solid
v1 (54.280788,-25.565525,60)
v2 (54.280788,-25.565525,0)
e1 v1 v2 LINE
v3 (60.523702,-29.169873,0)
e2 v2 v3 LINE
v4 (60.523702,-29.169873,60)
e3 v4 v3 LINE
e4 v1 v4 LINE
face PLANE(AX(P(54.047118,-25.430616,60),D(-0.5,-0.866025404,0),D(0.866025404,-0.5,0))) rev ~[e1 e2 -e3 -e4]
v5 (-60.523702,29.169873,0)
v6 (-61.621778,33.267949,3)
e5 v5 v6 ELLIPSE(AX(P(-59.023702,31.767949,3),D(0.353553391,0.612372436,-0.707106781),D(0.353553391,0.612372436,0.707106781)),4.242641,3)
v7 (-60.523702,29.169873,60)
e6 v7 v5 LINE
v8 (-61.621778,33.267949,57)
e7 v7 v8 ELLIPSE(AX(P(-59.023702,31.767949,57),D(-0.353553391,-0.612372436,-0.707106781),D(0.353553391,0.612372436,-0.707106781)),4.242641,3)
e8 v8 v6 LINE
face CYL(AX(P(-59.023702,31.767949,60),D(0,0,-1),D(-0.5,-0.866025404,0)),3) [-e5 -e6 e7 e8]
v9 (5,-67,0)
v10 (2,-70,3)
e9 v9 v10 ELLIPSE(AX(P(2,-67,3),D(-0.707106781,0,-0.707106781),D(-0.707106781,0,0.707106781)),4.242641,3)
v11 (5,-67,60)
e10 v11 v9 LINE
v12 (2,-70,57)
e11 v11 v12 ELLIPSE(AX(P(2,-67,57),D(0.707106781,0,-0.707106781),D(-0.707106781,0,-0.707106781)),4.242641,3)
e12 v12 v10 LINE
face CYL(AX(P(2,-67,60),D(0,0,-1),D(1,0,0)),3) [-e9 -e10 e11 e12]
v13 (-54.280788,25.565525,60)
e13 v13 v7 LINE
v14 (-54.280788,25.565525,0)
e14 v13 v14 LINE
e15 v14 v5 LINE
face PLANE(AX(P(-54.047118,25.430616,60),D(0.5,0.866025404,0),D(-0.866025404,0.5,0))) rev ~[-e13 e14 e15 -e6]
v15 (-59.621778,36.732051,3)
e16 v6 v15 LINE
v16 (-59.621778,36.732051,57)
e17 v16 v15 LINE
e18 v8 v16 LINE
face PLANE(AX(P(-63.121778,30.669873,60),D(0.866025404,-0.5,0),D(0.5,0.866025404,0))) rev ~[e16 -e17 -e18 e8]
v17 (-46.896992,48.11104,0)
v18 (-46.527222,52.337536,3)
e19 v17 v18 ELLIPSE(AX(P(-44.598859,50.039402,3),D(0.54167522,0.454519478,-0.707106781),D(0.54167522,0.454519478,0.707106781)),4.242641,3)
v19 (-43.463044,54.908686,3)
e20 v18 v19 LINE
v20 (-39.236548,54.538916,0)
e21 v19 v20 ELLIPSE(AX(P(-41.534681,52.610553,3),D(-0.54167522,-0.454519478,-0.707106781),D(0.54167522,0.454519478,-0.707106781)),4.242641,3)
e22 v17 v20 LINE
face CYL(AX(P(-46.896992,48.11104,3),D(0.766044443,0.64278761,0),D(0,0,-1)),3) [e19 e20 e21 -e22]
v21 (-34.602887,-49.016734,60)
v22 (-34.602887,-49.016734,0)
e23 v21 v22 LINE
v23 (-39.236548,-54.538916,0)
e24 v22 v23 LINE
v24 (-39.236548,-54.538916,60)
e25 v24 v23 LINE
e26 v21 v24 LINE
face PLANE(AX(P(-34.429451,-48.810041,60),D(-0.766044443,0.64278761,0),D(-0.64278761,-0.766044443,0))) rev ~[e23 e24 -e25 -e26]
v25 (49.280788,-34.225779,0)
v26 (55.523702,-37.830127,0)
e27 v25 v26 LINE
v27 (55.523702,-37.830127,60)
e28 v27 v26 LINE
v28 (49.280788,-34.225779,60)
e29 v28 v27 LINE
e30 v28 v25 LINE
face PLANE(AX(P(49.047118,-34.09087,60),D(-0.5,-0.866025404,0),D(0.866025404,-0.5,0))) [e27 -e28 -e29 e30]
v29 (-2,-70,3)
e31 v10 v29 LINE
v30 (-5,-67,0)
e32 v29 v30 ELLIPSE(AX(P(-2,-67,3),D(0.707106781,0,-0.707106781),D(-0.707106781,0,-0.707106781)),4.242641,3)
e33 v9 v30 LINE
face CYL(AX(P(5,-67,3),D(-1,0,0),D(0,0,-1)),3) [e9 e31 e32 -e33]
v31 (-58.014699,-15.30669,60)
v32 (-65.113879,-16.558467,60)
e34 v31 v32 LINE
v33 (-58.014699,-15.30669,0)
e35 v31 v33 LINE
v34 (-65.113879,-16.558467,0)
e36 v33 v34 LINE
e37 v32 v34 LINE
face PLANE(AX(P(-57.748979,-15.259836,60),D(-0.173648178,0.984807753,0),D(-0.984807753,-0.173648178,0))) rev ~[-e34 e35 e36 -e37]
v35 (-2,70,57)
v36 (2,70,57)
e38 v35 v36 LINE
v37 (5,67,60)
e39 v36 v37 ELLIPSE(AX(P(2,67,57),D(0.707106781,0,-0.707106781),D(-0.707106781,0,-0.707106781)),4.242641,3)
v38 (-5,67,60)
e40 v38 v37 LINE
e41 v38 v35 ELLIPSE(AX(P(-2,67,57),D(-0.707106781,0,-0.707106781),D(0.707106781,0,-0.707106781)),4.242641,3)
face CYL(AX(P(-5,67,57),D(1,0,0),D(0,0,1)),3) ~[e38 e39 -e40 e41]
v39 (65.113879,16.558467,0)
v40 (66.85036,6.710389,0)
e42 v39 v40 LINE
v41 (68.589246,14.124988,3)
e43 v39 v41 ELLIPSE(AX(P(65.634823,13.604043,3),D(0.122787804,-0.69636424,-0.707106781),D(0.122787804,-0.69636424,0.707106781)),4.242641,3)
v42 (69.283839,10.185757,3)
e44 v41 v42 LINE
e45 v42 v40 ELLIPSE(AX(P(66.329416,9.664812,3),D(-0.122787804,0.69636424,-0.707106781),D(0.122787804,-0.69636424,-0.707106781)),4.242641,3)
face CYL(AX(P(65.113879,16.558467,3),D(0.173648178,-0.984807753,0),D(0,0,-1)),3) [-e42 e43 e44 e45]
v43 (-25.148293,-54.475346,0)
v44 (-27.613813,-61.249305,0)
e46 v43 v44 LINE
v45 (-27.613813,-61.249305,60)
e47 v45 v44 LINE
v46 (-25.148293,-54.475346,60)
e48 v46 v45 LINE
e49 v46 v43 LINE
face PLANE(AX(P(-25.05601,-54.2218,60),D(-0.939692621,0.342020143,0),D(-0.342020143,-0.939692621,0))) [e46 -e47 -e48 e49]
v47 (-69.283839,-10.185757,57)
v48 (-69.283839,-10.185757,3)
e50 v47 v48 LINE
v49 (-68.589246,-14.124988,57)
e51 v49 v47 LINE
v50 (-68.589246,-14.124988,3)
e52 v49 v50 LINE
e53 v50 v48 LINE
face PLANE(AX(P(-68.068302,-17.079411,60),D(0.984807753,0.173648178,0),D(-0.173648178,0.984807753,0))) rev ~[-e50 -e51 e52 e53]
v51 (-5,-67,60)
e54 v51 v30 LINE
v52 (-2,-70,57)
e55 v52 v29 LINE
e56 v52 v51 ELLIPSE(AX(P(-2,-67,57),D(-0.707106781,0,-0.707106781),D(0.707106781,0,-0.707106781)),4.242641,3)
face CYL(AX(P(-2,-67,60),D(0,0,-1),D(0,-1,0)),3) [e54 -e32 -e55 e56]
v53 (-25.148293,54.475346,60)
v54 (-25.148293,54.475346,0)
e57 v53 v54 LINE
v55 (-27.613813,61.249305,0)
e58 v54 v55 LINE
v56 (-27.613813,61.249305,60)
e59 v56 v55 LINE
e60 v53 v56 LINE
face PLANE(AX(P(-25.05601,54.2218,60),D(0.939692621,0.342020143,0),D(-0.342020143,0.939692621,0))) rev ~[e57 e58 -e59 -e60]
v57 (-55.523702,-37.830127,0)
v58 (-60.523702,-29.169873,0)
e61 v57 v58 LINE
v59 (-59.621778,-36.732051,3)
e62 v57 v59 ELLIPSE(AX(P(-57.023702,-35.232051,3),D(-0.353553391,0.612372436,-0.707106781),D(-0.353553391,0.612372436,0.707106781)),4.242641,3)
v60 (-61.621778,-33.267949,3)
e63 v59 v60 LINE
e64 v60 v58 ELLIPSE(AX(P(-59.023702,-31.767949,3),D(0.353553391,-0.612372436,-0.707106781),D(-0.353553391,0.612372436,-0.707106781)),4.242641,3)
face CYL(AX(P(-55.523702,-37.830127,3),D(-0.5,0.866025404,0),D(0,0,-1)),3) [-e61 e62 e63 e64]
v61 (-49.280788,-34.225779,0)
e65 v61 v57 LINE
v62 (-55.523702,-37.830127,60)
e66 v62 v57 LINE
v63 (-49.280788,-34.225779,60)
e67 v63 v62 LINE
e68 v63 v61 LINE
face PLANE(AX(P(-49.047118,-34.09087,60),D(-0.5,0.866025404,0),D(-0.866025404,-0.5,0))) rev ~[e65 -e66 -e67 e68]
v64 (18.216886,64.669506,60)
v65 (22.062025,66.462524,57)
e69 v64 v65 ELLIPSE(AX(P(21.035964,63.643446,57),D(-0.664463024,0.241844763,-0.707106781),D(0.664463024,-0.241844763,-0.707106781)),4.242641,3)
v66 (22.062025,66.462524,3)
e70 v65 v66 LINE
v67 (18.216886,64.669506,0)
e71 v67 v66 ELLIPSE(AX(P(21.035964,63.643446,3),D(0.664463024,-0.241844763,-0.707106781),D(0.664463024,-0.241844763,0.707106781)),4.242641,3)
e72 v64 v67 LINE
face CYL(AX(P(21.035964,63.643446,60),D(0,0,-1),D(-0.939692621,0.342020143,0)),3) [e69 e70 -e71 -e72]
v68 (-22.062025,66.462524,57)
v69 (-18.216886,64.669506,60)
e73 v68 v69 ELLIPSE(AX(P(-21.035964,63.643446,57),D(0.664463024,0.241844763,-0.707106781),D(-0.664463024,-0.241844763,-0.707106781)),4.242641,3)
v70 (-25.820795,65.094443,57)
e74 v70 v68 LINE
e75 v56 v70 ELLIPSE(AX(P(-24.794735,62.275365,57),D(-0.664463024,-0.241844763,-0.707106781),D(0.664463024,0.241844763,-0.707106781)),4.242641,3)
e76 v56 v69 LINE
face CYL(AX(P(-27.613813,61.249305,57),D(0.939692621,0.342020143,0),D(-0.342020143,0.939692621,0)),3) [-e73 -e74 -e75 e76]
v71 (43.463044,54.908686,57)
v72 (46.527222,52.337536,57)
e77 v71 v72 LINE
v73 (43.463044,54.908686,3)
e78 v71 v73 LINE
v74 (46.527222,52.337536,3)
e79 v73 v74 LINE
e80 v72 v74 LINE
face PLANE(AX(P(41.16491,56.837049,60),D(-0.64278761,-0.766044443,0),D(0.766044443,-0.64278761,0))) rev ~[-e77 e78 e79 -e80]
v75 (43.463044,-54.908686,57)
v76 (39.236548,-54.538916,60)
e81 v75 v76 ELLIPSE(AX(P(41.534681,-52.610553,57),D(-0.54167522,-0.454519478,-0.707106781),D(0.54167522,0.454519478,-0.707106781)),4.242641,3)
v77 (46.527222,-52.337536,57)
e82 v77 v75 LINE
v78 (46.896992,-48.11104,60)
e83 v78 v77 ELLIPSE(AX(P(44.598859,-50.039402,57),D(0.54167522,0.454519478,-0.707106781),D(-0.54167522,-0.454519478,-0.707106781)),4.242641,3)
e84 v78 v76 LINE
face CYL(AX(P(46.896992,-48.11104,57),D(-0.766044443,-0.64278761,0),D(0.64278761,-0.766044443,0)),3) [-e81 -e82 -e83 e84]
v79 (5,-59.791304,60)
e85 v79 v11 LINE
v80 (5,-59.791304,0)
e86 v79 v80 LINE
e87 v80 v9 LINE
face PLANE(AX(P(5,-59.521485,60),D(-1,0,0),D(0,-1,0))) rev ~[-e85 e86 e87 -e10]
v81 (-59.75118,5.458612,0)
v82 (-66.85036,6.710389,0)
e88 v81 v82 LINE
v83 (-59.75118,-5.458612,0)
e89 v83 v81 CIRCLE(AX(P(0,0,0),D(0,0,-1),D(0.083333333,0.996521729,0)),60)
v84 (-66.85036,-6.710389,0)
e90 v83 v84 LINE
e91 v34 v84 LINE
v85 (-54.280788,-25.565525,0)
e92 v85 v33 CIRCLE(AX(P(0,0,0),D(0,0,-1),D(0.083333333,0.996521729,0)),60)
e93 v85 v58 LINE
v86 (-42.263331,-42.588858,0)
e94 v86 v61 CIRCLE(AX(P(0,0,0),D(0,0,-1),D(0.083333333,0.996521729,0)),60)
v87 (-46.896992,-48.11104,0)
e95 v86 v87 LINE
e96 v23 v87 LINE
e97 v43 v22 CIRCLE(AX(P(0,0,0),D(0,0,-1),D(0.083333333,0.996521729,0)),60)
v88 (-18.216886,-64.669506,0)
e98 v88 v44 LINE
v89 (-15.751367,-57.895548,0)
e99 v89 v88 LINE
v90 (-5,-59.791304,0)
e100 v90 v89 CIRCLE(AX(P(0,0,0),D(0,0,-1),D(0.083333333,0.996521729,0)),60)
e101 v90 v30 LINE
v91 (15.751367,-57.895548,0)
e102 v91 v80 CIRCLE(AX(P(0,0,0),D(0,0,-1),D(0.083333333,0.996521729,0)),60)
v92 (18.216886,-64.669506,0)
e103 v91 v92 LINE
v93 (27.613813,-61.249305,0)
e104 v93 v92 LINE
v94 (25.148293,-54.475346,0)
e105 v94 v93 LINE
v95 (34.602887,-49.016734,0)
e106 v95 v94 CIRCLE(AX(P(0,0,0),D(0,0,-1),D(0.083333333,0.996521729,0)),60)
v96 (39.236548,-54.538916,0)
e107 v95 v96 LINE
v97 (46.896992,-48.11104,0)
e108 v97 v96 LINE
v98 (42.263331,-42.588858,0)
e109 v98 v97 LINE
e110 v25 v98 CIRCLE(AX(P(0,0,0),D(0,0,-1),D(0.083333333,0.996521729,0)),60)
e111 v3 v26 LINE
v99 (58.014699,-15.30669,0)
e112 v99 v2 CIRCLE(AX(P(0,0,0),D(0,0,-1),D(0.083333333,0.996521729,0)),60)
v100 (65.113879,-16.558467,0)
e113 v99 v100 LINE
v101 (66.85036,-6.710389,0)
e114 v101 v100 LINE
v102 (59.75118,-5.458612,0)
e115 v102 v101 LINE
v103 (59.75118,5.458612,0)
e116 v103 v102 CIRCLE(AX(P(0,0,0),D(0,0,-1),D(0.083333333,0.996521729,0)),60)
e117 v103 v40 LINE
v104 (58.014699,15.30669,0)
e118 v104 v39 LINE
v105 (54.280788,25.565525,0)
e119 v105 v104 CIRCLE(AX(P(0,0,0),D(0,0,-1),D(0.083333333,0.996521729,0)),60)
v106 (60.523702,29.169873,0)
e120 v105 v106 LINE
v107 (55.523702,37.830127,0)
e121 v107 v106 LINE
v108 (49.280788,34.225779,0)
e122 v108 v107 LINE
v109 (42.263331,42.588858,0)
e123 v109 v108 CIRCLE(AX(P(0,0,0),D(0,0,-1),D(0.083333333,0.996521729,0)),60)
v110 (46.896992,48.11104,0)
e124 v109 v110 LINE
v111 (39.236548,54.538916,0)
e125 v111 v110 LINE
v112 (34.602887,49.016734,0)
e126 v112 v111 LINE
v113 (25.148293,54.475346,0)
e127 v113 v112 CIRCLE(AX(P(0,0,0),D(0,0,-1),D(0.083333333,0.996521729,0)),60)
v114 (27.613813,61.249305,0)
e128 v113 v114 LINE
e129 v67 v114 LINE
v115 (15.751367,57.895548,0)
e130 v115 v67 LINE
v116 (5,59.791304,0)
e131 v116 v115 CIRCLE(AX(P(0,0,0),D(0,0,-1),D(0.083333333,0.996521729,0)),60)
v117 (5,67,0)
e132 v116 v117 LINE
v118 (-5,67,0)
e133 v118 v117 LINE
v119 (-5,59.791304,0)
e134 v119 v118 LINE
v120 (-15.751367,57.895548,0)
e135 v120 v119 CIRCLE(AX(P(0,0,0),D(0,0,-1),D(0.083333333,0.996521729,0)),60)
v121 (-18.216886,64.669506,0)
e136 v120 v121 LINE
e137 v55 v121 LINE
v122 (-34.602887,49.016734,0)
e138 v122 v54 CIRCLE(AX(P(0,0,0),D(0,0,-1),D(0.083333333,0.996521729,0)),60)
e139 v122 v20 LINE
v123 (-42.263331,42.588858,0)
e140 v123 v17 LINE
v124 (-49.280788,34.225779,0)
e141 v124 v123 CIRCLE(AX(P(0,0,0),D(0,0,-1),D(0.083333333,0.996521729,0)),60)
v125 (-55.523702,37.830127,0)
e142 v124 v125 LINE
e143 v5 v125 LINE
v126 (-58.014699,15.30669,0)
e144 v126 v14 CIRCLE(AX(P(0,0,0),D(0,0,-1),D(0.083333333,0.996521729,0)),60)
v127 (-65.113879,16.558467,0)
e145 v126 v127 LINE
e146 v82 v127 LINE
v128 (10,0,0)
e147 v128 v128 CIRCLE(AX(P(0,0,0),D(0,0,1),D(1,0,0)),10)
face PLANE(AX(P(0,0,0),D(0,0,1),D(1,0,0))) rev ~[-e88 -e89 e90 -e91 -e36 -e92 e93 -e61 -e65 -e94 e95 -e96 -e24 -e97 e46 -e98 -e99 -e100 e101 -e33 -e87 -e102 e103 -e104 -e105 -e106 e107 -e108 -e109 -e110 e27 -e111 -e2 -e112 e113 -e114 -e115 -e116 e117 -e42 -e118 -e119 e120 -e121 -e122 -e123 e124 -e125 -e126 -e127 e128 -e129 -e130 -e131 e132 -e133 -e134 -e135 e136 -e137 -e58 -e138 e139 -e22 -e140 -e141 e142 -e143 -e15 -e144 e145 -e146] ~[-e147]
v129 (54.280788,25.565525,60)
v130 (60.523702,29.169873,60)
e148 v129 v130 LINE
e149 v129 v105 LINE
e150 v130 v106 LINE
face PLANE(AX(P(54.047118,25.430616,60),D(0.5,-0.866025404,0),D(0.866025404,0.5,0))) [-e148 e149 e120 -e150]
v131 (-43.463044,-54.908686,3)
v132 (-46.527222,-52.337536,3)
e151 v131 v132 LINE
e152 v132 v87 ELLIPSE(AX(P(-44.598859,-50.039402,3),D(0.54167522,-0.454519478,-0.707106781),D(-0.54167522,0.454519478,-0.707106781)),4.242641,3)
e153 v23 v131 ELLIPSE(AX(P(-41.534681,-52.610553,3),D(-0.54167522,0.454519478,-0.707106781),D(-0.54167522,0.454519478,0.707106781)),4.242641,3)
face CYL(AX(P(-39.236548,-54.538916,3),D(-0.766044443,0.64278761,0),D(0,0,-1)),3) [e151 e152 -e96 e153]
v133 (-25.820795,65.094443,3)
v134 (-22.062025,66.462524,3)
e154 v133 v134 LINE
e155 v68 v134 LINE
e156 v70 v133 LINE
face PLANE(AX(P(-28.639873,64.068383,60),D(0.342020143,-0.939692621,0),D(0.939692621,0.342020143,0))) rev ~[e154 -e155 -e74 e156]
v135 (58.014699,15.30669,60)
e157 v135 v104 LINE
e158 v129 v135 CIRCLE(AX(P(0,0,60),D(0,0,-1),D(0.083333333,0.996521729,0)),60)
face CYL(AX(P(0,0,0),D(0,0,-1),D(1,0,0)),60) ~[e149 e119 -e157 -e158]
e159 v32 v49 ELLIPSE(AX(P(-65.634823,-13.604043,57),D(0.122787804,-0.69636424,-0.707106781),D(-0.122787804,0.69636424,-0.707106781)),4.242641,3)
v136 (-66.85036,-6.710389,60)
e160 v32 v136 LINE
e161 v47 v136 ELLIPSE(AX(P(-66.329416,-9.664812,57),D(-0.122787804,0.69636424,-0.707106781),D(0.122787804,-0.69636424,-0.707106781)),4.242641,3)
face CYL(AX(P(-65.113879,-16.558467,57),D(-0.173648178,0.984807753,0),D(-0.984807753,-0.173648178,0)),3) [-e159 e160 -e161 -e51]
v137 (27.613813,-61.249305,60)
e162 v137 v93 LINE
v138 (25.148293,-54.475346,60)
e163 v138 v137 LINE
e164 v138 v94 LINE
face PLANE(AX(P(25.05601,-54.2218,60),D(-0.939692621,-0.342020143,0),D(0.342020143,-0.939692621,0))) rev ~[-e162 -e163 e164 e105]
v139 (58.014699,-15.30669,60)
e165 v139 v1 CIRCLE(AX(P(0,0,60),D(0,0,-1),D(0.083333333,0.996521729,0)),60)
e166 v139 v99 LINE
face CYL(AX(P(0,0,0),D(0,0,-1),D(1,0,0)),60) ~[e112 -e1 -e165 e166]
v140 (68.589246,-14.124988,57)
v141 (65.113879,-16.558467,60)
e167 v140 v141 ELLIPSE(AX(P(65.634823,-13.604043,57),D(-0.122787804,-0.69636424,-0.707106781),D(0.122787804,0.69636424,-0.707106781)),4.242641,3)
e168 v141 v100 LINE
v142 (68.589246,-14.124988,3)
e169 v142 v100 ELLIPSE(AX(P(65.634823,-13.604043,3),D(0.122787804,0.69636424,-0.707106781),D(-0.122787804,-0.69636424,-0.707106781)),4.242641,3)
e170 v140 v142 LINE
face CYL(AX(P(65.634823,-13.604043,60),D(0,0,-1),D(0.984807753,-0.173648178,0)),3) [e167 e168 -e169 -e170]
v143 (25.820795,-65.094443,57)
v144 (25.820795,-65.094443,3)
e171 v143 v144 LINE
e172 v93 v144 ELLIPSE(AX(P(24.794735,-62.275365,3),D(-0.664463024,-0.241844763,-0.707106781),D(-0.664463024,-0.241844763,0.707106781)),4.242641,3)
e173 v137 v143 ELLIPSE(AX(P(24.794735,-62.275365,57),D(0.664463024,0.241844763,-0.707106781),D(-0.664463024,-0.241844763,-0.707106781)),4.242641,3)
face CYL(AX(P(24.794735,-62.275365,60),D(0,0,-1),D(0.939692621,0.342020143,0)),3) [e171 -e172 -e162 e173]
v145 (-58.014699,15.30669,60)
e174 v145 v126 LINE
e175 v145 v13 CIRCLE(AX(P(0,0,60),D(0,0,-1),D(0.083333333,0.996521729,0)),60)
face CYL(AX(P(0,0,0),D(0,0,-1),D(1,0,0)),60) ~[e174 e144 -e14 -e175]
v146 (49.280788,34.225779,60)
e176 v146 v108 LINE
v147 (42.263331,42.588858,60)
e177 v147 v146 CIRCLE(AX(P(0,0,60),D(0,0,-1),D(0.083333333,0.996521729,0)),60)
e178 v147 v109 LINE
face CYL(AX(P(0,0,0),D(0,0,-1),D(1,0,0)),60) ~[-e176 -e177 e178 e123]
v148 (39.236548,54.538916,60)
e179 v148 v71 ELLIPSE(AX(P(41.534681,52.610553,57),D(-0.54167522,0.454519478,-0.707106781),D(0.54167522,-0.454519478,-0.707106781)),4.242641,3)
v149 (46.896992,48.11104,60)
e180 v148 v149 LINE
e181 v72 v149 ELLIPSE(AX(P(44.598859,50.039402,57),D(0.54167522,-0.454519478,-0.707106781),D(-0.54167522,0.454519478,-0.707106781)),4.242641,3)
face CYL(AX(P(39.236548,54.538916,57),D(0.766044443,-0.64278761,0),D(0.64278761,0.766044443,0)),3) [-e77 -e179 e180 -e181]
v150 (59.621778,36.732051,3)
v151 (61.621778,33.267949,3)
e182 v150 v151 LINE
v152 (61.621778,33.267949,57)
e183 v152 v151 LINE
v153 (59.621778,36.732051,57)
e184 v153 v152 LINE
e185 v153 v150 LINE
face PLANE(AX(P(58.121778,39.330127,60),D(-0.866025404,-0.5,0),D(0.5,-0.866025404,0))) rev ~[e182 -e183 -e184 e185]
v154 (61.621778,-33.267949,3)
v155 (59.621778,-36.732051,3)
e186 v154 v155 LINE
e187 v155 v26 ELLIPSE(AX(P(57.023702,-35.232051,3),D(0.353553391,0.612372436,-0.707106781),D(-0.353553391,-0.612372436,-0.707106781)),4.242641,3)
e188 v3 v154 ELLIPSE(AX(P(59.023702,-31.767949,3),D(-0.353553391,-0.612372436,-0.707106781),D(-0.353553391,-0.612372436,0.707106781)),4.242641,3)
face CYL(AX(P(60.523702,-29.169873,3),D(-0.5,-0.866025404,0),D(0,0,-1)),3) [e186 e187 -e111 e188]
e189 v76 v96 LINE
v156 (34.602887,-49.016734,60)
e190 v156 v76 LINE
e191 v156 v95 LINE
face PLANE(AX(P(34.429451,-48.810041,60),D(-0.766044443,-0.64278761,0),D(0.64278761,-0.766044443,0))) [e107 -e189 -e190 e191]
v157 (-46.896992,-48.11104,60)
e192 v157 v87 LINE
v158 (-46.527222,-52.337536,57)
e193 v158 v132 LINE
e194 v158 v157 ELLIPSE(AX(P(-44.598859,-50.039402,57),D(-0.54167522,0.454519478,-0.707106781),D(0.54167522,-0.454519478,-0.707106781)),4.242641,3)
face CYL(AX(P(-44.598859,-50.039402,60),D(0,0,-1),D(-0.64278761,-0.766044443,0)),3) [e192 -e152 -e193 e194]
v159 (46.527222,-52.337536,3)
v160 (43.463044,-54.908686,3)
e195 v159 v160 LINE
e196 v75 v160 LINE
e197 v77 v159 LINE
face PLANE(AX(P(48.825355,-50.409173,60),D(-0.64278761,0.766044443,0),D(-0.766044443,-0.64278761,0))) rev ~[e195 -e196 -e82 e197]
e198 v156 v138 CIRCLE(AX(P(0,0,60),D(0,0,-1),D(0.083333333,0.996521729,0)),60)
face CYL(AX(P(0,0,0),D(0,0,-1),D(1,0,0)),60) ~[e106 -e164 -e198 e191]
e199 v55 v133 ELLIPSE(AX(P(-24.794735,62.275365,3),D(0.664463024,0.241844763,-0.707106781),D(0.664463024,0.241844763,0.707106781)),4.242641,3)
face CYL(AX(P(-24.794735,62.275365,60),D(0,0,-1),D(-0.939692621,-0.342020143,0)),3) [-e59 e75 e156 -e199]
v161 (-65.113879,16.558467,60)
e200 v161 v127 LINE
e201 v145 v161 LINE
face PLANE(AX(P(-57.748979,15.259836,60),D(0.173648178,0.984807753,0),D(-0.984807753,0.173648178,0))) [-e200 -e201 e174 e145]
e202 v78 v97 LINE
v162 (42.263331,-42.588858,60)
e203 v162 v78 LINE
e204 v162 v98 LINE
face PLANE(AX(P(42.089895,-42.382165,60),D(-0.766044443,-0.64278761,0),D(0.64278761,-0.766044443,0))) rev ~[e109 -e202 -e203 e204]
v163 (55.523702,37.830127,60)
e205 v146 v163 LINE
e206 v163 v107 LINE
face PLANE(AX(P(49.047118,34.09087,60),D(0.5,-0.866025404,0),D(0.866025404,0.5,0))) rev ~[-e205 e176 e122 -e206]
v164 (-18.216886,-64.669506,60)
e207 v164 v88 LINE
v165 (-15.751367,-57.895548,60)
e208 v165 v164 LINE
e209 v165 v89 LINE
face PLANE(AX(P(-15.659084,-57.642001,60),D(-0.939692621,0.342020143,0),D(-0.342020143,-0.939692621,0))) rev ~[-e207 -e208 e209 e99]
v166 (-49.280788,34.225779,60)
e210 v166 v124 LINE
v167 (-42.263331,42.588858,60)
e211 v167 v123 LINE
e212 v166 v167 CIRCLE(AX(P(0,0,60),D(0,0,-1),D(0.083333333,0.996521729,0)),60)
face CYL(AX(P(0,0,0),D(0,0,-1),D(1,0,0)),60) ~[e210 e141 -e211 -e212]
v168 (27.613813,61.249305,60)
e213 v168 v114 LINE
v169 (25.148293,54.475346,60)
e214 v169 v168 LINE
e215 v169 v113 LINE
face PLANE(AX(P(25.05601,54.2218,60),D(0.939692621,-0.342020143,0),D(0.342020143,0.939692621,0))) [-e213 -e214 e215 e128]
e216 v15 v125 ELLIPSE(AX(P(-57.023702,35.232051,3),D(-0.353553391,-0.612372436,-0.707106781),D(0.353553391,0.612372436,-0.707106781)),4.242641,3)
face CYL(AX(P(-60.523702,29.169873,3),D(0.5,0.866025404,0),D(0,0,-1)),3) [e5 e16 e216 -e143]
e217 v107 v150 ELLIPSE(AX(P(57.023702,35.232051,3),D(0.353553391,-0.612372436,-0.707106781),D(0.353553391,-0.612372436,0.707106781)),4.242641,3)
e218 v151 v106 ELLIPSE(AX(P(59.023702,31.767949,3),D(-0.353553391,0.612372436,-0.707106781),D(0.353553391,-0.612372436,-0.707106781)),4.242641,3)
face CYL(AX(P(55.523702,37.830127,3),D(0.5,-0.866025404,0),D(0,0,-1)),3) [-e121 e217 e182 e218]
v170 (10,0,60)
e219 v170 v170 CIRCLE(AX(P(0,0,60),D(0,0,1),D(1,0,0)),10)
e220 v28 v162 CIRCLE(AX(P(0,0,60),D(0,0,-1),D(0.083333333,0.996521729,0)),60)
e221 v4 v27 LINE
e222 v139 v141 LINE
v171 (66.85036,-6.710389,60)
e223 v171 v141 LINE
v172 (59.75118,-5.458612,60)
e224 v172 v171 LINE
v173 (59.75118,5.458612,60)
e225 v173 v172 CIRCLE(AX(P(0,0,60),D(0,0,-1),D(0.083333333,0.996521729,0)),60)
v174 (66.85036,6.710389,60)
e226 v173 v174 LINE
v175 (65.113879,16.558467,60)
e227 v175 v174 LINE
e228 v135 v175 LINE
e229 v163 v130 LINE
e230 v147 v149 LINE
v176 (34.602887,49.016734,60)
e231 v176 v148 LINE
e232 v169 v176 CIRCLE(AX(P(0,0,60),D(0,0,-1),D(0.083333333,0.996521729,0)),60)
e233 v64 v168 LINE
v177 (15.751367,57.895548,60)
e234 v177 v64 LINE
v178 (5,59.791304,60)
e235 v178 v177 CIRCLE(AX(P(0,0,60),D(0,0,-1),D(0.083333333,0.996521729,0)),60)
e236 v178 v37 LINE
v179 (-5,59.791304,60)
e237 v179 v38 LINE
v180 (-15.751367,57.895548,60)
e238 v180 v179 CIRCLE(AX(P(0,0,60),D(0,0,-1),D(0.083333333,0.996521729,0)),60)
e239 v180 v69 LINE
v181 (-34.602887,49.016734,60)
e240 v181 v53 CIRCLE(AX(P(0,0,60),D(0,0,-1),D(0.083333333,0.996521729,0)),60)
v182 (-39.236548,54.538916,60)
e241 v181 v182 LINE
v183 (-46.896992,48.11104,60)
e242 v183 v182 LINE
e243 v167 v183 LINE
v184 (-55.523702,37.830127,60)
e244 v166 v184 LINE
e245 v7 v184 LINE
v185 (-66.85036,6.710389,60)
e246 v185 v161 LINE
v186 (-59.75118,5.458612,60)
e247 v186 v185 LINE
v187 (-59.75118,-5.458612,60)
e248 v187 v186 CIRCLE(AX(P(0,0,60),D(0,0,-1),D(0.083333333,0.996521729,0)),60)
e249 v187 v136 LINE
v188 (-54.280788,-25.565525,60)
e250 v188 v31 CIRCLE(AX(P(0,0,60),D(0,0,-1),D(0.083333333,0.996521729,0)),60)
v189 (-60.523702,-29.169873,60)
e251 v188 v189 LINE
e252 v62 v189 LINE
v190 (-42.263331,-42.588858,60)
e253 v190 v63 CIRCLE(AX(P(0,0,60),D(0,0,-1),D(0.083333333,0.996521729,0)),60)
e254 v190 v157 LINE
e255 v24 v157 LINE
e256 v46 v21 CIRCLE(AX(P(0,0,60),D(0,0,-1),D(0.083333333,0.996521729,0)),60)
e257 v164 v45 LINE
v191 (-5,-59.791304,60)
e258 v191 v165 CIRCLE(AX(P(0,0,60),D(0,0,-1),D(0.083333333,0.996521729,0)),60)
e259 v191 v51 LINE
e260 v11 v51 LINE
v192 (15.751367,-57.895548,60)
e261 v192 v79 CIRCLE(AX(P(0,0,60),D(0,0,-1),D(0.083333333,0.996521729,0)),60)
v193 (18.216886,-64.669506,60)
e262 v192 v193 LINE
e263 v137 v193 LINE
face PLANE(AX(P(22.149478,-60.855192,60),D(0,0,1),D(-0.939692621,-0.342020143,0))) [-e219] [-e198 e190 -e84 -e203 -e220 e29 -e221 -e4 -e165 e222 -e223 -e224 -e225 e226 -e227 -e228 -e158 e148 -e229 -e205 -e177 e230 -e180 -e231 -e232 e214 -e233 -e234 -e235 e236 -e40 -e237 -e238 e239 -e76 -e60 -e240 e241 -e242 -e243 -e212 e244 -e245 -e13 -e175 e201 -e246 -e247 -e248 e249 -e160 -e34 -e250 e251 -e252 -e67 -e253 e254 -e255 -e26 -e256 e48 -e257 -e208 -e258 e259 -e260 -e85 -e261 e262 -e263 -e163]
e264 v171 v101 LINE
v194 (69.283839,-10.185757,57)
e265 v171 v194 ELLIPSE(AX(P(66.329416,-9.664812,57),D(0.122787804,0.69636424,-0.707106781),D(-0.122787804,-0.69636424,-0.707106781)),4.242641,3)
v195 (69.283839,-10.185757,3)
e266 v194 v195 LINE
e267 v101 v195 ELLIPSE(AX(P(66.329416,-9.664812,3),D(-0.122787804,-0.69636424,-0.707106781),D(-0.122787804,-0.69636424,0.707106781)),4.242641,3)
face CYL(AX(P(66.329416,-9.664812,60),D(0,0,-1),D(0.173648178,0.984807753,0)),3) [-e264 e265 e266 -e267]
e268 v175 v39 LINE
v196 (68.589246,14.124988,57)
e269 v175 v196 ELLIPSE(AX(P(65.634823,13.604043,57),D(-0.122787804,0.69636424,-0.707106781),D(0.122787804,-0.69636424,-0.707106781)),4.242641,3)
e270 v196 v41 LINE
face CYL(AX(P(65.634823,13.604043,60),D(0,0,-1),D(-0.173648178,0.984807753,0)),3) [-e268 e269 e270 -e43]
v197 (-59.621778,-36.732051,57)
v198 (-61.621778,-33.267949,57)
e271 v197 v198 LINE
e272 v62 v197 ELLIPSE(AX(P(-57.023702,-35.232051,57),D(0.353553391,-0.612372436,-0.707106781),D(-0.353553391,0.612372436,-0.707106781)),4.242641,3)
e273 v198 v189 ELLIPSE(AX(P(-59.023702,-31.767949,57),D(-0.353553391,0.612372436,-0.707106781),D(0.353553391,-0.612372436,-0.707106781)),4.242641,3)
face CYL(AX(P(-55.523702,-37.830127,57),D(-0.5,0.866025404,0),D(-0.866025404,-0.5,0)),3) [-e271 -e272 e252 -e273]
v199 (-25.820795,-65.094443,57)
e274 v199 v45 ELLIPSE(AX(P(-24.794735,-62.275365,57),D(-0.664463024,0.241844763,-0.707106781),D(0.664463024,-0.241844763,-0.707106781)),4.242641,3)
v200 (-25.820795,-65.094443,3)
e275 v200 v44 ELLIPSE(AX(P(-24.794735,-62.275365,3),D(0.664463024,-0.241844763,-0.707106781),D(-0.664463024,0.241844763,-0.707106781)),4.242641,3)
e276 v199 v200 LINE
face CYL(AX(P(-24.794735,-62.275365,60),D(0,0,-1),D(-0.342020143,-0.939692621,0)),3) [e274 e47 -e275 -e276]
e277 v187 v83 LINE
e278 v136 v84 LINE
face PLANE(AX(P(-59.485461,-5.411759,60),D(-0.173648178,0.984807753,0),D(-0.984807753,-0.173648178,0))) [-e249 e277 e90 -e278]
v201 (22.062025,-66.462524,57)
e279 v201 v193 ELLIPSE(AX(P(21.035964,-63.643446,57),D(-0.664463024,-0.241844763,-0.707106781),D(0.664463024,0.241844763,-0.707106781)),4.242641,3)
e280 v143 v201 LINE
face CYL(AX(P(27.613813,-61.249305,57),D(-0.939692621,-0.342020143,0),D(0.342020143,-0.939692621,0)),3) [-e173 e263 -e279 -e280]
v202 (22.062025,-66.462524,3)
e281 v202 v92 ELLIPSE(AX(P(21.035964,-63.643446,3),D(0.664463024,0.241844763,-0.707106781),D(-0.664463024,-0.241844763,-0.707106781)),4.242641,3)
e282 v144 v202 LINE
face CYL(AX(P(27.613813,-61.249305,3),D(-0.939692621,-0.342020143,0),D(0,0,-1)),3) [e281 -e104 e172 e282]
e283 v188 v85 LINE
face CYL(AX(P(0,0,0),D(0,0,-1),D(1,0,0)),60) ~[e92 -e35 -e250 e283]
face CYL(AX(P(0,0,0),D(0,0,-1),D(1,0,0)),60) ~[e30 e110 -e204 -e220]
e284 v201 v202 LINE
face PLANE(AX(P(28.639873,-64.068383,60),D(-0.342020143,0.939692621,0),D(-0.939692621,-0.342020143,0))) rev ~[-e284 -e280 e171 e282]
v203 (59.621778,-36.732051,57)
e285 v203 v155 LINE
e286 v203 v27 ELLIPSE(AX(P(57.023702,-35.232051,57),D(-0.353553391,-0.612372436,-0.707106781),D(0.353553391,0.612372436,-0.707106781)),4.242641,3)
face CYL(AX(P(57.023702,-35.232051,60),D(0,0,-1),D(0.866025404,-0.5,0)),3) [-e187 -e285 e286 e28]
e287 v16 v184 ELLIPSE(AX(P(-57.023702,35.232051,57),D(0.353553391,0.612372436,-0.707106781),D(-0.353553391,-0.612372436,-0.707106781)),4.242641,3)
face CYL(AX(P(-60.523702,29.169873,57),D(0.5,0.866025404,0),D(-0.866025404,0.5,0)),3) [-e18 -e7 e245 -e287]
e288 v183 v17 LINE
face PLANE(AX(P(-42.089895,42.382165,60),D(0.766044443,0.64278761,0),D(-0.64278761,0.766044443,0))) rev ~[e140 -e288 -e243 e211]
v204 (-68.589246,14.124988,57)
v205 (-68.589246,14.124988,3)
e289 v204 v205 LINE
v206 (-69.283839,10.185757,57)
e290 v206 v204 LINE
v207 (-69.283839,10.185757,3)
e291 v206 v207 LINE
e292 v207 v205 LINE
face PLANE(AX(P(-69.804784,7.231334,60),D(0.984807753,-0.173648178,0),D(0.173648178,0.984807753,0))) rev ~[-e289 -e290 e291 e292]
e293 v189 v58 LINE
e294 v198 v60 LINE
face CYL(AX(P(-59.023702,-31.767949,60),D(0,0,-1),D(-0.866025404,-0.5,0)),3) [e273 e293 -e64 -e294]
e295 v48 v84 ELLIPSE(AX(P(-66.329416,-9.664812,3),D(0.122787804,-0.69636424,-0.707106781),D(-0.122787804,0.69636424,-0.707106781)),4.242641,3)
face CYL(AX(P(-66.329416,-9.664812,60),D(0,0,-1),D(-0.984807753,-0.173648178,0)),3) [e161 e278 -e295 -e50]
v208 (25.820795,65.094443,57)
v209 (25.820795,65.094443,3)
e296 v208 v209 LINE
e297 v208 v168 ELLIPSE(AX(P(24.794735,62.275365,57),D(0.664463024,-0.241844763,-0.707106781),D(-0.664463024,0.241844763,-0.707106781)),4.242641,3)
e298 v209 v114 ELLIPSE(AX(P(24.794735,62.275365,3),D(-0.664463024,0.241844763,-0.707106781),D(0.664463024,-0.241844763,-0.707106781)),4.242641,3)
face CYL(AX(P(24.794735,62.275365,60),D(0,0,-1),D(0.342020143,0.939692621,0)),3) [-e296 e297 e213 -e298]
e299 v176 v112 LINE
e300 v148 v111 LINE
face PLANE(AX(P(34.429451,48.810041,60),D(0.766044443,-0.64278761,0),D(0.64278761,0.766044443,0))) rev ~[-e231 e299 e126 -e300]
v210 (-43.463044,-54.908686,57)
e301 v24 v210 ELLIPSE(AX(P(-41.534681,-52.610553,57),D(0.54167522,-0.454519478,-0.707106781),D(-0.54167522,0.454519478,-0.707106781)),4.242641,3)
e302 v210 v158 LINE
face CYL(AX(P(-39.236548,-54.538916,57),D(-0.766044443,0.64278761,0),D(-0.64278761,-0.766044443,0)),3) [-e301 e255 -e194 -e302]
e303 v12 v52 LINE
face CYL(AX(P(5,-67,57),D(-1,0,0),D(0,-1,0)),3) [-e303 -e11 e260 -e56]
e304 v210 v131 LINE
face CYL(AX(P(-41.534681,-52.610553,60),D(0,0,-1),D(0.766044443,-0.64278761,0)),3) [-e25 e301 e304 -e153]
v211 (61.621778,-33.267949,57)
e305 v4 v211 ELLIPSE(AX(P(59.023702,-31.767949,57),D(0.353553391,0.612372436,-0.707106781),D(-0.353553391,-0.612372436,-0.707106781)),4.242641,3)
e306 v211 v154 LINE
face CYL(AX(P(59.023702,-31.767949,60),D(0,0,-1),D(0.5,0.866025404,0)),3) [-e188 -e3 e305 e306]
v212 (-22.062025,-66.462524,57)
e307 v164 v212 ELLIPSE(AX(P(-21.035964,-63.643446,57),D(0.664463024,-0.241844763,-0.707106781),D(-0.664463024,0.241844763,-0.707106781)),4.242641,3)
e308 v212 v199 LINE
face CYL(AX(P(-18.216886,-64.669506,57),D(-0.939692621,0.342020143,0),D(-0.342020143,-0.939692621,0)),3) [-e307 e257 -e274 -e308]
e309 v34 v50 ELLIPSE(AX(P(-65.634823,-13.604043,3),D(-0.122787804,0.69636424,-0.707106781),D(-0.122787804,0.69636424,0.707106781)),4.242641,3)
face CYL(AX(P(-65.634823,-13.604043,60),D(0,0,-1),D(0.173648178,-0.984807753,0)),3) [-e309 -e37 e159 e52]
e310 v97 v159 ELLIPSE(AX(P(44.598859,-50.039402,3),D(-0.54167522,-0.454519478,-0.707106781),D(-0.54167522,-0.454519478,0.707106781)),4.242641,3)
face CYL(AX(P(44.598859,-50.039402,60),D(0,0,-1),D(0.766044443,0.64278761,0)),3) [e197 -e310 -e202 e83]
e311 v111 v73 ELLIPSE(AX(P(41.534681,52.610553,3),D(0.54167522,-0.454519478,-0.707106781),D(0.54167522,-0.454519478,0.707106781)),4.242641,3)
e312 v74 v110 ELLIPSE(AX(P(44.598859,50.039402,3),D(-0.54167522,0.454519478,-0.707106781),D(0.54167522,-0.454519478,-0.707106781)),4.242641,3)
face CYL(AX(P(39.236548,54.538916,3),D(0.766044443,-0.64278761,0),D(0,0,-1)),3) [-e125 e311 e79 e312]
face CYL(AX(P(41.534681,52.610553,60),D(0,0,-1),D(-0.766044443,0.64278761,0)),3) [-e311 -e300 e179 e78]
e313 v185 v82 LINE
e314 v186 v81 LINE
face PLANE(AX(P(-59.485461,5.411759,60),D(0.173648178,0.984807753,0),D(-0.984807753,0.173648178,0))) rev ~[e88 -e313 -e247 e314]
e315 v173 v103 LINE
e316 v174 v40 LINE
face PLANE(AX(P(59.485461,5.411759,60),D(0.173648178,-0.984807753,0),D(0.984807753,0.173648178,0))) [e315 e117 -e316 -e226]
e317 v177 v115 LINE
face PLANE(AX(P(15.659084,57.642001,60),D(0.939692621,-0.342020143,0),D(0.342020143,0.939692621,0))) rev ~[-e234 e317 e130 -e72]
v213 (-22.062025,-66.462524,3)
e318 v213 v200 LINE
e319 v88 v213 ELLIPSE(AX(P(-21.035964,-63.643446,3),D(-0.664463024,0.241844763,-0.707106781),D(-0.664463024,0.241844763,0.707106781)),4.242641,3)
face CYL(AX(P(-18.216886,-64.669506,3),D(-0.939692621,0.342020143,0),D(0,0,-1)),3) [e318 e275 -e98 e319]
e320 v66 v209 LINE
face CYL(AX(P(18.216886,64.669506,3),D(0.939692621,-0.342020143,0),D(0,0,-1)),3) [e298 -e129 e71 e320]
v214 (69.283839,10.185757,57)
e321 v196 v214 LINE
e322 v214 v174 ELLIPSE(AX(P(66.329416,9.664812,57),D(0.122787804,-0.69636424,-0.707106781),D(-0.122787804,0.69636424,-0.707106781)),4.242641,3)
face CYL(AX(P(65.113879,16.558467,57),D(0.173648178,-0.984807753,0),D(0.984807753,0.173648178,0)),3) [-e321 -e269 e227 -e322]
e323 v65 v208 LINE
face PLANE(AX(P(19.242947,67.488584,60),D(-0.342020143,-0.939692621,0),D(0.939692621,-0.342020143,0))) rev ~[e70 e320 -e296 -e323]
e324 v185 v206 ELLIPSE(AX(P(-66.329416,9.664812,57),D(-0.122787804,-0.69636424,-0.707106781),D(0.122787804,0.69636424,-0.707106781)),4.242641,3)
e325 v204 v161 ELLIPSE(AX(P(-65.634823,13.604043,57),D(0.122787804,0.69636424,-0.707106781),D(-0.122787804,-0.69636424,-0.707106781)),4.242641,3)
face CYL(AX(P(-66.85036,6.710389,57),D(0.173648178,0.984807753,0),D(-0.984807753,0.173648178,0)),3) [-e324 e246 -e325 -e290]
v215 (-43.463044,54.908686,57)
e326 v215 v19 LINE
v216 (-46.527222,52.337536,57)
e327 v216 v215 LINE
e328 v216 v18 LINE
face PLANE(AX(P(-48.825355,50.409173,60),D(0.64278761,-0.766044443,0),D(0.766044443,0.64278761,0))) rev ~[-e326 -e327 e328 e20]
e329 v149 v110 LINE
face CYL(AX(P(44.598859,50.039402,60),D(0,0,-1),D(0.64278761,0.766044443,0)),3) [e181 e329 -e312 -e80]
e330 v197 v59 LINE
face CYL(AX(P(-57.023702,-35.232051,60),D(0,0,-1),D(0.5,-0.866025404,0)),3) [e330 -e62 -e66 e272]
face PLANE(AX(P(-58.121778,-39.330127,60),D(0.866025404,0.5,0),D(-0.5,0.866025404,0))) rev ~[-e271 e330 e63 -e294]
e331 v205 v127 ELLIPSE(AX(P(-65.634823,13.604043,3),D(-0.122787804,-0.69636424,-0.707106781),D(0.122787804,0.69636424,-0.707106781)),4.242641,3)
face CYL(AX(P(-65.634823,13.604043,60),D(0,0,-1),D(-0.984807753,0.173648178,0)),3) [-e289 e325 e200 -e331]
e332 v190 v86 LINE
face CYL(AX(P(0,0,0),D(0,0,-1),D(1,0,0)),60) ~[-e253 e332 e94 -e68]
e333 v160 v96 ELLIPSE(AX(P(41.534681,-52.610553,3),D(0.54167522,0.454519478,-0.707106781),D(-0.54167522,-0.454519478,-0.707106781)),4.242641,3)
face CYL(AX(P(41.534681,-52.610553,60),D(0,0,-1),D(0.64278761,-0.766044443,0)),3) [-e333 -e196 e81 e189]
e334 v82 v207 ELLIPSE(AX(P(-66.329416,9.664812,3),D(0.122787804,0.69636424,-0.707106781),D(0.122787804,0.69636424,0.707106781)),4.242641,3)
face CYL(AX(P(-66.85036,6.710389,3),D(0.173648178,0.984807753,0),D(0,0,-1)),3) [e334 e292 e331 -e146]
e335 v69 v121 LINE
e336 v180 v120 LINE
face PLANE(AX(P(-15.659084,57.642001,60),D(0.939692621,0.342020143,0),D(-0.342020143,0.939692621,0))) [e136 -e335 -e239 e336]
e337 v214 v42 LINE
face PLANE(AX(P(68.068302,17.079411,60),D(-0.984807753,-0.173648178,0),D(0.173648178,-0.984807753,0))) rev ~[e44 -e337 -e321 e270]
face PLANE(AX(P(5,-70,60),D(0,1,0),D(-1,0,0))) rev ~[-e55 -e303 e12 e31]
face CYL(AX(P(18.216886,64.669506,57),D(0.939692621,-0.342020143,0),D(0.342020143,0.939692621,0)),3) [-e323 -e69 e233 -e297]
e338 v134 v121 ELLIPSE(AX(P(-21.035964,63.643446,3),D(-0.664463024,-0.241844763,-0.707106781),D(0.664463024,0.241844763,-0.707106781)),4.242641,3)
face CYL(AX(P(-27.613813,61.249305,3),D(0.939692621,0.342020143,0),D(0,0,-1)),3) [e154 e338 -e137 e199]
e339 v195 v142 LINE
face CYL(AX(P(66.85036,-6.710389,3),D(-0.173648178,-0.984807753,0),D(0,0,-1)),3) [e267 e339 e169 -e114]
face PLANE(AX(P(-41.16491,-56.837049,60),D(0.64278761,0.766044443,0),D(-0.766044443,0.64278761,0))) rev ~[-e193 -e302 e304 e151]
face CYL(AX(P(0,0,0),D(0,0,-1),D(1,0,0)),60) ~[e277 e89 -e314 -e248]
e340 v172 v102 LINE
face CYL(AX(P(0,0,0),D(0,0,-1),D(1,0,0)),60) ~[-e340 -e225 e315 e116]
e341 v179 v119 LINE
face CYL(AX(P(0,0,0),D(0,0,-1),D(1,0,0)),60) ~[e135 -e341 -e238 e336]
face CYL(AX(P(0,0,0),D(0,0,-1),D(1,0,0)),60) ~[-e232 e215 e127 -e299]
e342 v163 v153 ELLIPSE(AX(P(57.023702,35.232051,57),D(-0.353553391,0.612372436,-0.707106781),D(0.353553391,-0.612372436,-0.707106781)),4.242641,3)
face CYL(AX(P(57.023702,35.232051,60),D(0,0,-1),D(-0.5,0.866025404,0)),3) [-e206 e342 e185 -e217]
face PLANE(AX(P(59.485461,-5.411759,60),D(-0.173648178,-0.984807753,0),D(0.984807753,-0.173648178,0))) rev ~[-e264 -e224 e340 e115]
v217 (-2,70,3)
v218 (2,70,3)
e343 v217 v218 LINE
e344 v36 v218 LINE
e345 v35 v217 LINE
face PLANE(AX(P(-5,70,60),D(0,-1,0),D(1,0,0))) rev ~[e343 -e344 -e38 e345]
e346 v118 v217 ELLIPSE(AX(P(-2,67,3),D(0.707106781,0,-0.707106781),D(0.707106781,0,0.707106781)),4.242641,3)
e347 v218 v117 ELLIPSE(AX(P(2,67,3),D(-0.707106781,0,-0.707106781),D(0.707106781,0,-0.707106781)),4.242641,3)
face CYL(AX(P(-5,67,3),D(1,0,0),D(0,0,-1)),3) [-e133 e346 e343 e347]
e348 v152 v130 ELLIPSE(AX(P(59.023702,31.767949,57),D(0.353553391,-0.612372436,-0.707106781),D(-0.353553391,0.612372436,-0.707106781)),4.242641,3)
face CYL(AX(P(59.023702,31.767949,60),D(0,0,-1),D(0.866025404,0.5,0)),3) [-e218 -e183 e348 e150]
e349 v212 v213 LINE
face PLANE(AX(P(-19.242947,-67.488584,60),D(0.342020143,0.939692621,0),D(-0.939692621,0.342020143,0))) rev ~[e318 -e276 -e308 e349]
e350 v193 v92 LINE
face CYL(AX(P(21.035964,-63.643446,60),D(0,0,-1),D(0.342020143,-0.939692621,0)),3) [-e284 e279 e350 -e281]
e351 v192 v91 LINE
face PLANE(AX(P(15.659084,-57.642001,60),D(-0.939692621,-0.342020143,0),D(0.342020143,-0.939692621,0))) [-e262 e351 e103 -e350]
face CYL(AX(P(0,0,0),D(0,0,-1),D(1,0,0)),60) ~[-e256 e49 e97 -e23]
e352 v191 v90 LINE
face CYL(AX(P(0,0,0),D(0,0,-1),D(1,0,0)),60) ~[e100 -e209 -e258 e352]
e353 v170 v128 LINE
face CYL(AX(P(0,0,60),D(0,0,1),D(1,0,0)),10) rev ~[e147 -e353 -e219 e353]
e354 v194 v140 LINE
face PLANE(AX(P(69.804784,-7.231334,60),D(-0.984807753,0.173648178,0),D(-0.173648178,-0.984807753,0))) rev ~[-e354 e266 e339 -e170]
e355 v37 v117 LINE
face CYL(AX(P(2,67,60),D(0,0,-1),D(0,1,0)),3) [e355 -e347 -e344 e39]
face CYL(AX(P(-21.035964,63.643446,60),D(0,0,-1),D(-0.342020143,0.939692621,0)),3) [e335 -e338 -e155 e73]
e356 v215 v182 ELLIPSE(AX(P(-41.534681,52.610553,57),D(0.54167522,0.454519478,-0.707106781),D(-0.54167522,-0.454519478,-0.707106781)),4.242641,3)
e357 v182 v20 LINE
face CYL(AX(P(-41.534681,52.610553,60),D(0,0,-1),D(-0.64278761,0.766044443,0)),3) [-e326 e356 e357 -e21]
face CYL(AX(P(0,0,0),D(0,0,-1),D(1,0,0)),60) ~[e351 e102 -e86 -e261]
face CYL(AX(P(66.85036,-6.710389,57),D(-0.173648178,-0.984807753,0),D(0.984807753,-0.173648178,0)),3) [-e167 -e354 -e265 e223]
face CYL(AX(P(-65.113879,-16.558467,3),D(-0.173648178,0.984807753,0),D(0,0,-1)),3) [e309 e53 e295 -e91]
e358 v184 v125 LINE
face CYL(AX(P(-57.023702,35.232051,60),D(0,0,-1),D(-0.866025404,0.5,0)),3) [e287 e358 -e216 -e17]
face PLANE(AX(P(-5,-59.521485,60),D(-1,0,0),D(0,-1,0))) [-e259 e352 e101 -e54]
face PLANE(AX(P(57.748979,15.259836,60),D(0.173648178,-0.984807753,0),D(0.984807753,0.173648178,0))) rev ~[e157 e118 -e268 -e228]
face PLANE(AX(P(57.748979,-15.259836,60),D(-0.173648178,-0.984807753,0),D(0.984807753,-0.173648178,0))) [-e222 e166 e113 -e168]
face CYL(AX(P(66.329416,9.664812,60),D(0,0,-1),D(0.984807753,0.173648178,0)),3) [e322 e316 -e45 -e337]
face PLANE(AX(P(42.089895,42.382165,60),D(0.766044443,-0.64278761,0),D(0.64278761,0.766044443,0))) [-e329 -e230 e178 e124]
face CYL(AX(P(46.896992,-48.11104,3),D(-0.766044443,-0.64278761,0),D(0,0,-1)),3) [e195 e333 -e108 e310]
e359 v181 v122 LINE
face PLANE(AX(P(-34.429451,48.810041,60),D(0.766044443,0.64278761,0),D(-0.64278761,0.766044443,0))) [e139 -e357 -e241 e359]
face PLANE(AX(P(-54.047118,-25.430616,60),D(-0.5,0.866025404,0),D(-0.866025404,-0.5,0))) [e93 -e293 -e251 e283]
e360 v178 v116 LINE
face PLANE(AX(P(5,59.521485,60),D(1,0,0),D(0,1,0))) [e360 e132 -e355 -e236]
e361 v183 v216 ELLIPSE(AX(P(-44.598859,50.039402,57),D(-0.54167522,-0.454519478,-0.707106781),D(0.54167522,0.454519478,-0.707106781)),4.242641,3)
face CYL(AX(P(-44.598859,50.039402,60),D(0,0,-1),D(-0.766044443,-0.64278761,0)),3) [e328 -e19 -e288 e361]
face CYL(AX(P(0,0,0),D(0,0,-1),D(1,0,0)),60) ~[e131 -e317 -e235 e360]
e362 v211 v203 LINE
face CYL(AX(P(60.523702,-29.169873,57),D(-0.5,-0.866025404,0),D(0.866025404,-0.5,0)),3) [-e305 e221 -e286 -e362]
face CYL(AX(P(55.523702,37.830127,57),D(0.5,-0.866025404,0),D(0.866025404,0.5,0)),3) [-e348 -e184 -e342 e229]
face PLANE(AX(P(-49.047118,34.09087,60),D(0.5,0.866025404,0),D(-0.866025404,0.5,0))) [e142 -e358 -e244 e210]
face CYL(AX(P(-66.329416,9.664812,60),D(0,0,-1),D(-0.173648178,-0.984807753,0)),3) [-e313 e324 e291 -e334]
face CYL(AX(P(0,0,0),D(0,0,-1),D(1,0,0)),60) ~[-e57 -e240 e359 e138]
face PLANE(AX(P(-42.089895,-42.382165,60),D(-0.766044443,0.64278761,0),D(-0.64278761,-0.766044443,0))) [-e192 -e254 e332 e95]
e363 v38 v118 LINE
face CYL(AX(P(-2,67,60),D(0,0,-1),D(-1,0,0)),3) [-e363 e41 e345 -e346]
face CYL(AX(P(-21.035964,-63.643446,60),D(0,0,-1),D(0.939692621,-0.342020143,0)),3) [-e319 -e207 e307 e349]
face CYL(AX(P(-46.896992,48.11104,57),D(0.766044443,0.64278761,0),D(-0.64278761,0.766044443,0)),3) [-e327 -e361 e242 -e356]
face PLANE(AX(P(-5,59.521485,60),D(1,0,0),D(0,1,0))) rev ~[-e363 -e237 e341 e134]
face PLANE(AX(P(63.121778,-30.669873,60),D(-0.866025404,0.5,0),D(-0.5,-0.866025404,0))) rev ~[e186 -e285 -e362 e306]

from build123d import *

# Parameters (mm, degrees)
SKETCH2_R                = 60
BOSS_EXTRUDE1_DEPTH      = 60
SKETCH3_W                = 10
SKETCH3_H                = 10.47851478
BOSS_EXTRUDE2_DEPTH      = 60
FILLET2_R                = 3
CIRPATTERN1_COUNT        = 18
FILLET2_OF_CIRPATTERN1_R = 3
SKETCH4_R                = 10
CUT_EXTRUDE1_DEPTH       = 60


with BuildPart() as part:
    # Sketch2 → Boss-Extrude1 (new body)
    with BuildSketch(Plane.XY):
        Circle(SKETCH2_R)
    extrude(amount=BOSS_EXTRUDE1_DEPTH)

    # Sketch3 → Boss-Extrude2 (add)
    with BuildSketch(Plane.XY.offset(60)):
        with Locations((0, 64.76074261)):
            Rectangle(SKETCH3_W, SKETCH3_H)
    boss_extrude2 = extrude(amount=-BOSS_EXTRUDE2_DEPTH)

    # Fillet2
    fillet2_edges = [part.edges().sort_by_distance(p)[0] for p in [
        (5, 70, 30),
        (0, 70, 0),
        (-5, 70, 30),
        (0, 70, 60),
    ]]
    fillet(fillet2_edges, radius=FILLET2_R)

    # CirPattern1: Boss-Extrude2 ×18 about axis
    cirpattern1_axis = Axis((0, 0, 0), (0, 0, 1))
    for i in range(1, CIRPATTERN1_COUNT):
        add(boss_extrude2.rotate(cirpattern1_axis, i * 360 / CIRPATTERN1_COUNT))

    # Fillet2 of CirPattern1
    fillet2_of_cirpattern1_edges = [part.edges().sort_by_distance(p)[0] for p in [
        (-19.242946929, 67.488584172, 30),
        (-23.941410033, 65.778483455, 0),
        (-28.639873137, 64.068382738, 30),
        (-23.941410033, 65.778483455, 60),
        (-41.164910462, 56.837049067, 30),
        (-44.995132678, 53.623111018, 0),
        (-48.825354894, 50.40917297, 30),
        (-44.995132678, 53.623111018, 60),
        (-58.121778265, 39.330127019, 30),
        (-60.621778265, 35, 0),
        (-63.121778265, 30.669872981, 30),
        (-60.621778265, 35, 60),
        (-68.068301823, 17.079411202, 30),
        (-68.936542711, 12.155372437, 0),
        (-69.804783599, 7.231333672, 30),
        (-68.936542711, 12.155372437, 60),
        (-69.804783599, -7.231333672, 30),
        (-68.936542711, -12.155372437, 0),
        (-68.068301823, -17.079411202, 30),
        (-68.936542711, -12.155372437, 60),
        (-63.121778265, -30.669872981, 30),
        (-60.621778265, -35, 0),
        (-58.121778265, -39.330127019, 30),
        (-60.621778265, -35, 60),
        (-48.825354894, -50.40917297, 30),
        (-44.995132678, -53.623111018, 0),
        (-41.164910462, -56.837049067, 30),
        (-44.995132678, -53.623111018, 60),
        (-28.639873137, -64.068382738, 30),
        (-23.941410033, -65.778483455, 0),
        (-19.242946929, -67.488584172, 30),
        (-23.941410033, -65.778483455, 60),
        (-5, -70, 30),
        (0, -70, 0),
        (5, -70, 30),
        (0, -70, 60),
        (19.242946929, -67.488584172, 30),
        (23.941410033, -65.778483455, 0),
        (28.639873137, -64.068382738, 30),
        (23.941410033, -65.778483455, 60),
        (41.164910462, -56.837049067, 30),
        (44.995132678, -53.623111018, 0),
        (48.825354894, -50.40917297, 30),
        (44.995132678, -53.623111018, 60),
        (58.121778265, -39.330127019, 30),
        (60.621778265, -35, 0),
        (63.121778265, -30.669872981, 30),
        (60.621778265, -35, 60),
        (68.068301823, -17.079411202, 30),
        (68.936542711, -12.155372437, 0),
        (69.804783599, -7.231333672, 30),
        (68.936542711, -12.155372437, 60),
        (69.804783599, 7.231333672, 30),
        (68.936542711, 12.155372437, 0),
        (68.068301823, 17.079411202, 30),
        (68.936542711, 12.155372437, 60),
        (63.121778265, 30.669872981, 30),
        (60.621778265, 35, 0),
        (58.121778265, 39.330127019, 30),
        (60.621778265, 35, 60),
        (48.825354894, 50.40917297, 30),
        (44.995132678, 53.623111018, 0),
        (41.164910462, 56.837049067, 30),
        (44.995132678, 53.623111018, 60),
        (28.639873137, 64.068382738, 30),
        (23.941410033, 65.778483455, 0),
        (19.242946929, 67.488584172, 30),
        (23.941410033, 65.778483455, 60),
    ]]
    fillet(fillet2_of_cirpattern1_edges, radius=FILLET2_OF_CIRPATTERN1_R)

    # Sketch4 → Cut-Extrude1 (cut)
    with BuildSketch(Plane.XY.offset(60)):
        Circle(SKETCH4_R)
    extrude(amount=-CUT_EXTRUDE1_DEPTH, mode=Mode.SUBTRACT)


solid = part.part
